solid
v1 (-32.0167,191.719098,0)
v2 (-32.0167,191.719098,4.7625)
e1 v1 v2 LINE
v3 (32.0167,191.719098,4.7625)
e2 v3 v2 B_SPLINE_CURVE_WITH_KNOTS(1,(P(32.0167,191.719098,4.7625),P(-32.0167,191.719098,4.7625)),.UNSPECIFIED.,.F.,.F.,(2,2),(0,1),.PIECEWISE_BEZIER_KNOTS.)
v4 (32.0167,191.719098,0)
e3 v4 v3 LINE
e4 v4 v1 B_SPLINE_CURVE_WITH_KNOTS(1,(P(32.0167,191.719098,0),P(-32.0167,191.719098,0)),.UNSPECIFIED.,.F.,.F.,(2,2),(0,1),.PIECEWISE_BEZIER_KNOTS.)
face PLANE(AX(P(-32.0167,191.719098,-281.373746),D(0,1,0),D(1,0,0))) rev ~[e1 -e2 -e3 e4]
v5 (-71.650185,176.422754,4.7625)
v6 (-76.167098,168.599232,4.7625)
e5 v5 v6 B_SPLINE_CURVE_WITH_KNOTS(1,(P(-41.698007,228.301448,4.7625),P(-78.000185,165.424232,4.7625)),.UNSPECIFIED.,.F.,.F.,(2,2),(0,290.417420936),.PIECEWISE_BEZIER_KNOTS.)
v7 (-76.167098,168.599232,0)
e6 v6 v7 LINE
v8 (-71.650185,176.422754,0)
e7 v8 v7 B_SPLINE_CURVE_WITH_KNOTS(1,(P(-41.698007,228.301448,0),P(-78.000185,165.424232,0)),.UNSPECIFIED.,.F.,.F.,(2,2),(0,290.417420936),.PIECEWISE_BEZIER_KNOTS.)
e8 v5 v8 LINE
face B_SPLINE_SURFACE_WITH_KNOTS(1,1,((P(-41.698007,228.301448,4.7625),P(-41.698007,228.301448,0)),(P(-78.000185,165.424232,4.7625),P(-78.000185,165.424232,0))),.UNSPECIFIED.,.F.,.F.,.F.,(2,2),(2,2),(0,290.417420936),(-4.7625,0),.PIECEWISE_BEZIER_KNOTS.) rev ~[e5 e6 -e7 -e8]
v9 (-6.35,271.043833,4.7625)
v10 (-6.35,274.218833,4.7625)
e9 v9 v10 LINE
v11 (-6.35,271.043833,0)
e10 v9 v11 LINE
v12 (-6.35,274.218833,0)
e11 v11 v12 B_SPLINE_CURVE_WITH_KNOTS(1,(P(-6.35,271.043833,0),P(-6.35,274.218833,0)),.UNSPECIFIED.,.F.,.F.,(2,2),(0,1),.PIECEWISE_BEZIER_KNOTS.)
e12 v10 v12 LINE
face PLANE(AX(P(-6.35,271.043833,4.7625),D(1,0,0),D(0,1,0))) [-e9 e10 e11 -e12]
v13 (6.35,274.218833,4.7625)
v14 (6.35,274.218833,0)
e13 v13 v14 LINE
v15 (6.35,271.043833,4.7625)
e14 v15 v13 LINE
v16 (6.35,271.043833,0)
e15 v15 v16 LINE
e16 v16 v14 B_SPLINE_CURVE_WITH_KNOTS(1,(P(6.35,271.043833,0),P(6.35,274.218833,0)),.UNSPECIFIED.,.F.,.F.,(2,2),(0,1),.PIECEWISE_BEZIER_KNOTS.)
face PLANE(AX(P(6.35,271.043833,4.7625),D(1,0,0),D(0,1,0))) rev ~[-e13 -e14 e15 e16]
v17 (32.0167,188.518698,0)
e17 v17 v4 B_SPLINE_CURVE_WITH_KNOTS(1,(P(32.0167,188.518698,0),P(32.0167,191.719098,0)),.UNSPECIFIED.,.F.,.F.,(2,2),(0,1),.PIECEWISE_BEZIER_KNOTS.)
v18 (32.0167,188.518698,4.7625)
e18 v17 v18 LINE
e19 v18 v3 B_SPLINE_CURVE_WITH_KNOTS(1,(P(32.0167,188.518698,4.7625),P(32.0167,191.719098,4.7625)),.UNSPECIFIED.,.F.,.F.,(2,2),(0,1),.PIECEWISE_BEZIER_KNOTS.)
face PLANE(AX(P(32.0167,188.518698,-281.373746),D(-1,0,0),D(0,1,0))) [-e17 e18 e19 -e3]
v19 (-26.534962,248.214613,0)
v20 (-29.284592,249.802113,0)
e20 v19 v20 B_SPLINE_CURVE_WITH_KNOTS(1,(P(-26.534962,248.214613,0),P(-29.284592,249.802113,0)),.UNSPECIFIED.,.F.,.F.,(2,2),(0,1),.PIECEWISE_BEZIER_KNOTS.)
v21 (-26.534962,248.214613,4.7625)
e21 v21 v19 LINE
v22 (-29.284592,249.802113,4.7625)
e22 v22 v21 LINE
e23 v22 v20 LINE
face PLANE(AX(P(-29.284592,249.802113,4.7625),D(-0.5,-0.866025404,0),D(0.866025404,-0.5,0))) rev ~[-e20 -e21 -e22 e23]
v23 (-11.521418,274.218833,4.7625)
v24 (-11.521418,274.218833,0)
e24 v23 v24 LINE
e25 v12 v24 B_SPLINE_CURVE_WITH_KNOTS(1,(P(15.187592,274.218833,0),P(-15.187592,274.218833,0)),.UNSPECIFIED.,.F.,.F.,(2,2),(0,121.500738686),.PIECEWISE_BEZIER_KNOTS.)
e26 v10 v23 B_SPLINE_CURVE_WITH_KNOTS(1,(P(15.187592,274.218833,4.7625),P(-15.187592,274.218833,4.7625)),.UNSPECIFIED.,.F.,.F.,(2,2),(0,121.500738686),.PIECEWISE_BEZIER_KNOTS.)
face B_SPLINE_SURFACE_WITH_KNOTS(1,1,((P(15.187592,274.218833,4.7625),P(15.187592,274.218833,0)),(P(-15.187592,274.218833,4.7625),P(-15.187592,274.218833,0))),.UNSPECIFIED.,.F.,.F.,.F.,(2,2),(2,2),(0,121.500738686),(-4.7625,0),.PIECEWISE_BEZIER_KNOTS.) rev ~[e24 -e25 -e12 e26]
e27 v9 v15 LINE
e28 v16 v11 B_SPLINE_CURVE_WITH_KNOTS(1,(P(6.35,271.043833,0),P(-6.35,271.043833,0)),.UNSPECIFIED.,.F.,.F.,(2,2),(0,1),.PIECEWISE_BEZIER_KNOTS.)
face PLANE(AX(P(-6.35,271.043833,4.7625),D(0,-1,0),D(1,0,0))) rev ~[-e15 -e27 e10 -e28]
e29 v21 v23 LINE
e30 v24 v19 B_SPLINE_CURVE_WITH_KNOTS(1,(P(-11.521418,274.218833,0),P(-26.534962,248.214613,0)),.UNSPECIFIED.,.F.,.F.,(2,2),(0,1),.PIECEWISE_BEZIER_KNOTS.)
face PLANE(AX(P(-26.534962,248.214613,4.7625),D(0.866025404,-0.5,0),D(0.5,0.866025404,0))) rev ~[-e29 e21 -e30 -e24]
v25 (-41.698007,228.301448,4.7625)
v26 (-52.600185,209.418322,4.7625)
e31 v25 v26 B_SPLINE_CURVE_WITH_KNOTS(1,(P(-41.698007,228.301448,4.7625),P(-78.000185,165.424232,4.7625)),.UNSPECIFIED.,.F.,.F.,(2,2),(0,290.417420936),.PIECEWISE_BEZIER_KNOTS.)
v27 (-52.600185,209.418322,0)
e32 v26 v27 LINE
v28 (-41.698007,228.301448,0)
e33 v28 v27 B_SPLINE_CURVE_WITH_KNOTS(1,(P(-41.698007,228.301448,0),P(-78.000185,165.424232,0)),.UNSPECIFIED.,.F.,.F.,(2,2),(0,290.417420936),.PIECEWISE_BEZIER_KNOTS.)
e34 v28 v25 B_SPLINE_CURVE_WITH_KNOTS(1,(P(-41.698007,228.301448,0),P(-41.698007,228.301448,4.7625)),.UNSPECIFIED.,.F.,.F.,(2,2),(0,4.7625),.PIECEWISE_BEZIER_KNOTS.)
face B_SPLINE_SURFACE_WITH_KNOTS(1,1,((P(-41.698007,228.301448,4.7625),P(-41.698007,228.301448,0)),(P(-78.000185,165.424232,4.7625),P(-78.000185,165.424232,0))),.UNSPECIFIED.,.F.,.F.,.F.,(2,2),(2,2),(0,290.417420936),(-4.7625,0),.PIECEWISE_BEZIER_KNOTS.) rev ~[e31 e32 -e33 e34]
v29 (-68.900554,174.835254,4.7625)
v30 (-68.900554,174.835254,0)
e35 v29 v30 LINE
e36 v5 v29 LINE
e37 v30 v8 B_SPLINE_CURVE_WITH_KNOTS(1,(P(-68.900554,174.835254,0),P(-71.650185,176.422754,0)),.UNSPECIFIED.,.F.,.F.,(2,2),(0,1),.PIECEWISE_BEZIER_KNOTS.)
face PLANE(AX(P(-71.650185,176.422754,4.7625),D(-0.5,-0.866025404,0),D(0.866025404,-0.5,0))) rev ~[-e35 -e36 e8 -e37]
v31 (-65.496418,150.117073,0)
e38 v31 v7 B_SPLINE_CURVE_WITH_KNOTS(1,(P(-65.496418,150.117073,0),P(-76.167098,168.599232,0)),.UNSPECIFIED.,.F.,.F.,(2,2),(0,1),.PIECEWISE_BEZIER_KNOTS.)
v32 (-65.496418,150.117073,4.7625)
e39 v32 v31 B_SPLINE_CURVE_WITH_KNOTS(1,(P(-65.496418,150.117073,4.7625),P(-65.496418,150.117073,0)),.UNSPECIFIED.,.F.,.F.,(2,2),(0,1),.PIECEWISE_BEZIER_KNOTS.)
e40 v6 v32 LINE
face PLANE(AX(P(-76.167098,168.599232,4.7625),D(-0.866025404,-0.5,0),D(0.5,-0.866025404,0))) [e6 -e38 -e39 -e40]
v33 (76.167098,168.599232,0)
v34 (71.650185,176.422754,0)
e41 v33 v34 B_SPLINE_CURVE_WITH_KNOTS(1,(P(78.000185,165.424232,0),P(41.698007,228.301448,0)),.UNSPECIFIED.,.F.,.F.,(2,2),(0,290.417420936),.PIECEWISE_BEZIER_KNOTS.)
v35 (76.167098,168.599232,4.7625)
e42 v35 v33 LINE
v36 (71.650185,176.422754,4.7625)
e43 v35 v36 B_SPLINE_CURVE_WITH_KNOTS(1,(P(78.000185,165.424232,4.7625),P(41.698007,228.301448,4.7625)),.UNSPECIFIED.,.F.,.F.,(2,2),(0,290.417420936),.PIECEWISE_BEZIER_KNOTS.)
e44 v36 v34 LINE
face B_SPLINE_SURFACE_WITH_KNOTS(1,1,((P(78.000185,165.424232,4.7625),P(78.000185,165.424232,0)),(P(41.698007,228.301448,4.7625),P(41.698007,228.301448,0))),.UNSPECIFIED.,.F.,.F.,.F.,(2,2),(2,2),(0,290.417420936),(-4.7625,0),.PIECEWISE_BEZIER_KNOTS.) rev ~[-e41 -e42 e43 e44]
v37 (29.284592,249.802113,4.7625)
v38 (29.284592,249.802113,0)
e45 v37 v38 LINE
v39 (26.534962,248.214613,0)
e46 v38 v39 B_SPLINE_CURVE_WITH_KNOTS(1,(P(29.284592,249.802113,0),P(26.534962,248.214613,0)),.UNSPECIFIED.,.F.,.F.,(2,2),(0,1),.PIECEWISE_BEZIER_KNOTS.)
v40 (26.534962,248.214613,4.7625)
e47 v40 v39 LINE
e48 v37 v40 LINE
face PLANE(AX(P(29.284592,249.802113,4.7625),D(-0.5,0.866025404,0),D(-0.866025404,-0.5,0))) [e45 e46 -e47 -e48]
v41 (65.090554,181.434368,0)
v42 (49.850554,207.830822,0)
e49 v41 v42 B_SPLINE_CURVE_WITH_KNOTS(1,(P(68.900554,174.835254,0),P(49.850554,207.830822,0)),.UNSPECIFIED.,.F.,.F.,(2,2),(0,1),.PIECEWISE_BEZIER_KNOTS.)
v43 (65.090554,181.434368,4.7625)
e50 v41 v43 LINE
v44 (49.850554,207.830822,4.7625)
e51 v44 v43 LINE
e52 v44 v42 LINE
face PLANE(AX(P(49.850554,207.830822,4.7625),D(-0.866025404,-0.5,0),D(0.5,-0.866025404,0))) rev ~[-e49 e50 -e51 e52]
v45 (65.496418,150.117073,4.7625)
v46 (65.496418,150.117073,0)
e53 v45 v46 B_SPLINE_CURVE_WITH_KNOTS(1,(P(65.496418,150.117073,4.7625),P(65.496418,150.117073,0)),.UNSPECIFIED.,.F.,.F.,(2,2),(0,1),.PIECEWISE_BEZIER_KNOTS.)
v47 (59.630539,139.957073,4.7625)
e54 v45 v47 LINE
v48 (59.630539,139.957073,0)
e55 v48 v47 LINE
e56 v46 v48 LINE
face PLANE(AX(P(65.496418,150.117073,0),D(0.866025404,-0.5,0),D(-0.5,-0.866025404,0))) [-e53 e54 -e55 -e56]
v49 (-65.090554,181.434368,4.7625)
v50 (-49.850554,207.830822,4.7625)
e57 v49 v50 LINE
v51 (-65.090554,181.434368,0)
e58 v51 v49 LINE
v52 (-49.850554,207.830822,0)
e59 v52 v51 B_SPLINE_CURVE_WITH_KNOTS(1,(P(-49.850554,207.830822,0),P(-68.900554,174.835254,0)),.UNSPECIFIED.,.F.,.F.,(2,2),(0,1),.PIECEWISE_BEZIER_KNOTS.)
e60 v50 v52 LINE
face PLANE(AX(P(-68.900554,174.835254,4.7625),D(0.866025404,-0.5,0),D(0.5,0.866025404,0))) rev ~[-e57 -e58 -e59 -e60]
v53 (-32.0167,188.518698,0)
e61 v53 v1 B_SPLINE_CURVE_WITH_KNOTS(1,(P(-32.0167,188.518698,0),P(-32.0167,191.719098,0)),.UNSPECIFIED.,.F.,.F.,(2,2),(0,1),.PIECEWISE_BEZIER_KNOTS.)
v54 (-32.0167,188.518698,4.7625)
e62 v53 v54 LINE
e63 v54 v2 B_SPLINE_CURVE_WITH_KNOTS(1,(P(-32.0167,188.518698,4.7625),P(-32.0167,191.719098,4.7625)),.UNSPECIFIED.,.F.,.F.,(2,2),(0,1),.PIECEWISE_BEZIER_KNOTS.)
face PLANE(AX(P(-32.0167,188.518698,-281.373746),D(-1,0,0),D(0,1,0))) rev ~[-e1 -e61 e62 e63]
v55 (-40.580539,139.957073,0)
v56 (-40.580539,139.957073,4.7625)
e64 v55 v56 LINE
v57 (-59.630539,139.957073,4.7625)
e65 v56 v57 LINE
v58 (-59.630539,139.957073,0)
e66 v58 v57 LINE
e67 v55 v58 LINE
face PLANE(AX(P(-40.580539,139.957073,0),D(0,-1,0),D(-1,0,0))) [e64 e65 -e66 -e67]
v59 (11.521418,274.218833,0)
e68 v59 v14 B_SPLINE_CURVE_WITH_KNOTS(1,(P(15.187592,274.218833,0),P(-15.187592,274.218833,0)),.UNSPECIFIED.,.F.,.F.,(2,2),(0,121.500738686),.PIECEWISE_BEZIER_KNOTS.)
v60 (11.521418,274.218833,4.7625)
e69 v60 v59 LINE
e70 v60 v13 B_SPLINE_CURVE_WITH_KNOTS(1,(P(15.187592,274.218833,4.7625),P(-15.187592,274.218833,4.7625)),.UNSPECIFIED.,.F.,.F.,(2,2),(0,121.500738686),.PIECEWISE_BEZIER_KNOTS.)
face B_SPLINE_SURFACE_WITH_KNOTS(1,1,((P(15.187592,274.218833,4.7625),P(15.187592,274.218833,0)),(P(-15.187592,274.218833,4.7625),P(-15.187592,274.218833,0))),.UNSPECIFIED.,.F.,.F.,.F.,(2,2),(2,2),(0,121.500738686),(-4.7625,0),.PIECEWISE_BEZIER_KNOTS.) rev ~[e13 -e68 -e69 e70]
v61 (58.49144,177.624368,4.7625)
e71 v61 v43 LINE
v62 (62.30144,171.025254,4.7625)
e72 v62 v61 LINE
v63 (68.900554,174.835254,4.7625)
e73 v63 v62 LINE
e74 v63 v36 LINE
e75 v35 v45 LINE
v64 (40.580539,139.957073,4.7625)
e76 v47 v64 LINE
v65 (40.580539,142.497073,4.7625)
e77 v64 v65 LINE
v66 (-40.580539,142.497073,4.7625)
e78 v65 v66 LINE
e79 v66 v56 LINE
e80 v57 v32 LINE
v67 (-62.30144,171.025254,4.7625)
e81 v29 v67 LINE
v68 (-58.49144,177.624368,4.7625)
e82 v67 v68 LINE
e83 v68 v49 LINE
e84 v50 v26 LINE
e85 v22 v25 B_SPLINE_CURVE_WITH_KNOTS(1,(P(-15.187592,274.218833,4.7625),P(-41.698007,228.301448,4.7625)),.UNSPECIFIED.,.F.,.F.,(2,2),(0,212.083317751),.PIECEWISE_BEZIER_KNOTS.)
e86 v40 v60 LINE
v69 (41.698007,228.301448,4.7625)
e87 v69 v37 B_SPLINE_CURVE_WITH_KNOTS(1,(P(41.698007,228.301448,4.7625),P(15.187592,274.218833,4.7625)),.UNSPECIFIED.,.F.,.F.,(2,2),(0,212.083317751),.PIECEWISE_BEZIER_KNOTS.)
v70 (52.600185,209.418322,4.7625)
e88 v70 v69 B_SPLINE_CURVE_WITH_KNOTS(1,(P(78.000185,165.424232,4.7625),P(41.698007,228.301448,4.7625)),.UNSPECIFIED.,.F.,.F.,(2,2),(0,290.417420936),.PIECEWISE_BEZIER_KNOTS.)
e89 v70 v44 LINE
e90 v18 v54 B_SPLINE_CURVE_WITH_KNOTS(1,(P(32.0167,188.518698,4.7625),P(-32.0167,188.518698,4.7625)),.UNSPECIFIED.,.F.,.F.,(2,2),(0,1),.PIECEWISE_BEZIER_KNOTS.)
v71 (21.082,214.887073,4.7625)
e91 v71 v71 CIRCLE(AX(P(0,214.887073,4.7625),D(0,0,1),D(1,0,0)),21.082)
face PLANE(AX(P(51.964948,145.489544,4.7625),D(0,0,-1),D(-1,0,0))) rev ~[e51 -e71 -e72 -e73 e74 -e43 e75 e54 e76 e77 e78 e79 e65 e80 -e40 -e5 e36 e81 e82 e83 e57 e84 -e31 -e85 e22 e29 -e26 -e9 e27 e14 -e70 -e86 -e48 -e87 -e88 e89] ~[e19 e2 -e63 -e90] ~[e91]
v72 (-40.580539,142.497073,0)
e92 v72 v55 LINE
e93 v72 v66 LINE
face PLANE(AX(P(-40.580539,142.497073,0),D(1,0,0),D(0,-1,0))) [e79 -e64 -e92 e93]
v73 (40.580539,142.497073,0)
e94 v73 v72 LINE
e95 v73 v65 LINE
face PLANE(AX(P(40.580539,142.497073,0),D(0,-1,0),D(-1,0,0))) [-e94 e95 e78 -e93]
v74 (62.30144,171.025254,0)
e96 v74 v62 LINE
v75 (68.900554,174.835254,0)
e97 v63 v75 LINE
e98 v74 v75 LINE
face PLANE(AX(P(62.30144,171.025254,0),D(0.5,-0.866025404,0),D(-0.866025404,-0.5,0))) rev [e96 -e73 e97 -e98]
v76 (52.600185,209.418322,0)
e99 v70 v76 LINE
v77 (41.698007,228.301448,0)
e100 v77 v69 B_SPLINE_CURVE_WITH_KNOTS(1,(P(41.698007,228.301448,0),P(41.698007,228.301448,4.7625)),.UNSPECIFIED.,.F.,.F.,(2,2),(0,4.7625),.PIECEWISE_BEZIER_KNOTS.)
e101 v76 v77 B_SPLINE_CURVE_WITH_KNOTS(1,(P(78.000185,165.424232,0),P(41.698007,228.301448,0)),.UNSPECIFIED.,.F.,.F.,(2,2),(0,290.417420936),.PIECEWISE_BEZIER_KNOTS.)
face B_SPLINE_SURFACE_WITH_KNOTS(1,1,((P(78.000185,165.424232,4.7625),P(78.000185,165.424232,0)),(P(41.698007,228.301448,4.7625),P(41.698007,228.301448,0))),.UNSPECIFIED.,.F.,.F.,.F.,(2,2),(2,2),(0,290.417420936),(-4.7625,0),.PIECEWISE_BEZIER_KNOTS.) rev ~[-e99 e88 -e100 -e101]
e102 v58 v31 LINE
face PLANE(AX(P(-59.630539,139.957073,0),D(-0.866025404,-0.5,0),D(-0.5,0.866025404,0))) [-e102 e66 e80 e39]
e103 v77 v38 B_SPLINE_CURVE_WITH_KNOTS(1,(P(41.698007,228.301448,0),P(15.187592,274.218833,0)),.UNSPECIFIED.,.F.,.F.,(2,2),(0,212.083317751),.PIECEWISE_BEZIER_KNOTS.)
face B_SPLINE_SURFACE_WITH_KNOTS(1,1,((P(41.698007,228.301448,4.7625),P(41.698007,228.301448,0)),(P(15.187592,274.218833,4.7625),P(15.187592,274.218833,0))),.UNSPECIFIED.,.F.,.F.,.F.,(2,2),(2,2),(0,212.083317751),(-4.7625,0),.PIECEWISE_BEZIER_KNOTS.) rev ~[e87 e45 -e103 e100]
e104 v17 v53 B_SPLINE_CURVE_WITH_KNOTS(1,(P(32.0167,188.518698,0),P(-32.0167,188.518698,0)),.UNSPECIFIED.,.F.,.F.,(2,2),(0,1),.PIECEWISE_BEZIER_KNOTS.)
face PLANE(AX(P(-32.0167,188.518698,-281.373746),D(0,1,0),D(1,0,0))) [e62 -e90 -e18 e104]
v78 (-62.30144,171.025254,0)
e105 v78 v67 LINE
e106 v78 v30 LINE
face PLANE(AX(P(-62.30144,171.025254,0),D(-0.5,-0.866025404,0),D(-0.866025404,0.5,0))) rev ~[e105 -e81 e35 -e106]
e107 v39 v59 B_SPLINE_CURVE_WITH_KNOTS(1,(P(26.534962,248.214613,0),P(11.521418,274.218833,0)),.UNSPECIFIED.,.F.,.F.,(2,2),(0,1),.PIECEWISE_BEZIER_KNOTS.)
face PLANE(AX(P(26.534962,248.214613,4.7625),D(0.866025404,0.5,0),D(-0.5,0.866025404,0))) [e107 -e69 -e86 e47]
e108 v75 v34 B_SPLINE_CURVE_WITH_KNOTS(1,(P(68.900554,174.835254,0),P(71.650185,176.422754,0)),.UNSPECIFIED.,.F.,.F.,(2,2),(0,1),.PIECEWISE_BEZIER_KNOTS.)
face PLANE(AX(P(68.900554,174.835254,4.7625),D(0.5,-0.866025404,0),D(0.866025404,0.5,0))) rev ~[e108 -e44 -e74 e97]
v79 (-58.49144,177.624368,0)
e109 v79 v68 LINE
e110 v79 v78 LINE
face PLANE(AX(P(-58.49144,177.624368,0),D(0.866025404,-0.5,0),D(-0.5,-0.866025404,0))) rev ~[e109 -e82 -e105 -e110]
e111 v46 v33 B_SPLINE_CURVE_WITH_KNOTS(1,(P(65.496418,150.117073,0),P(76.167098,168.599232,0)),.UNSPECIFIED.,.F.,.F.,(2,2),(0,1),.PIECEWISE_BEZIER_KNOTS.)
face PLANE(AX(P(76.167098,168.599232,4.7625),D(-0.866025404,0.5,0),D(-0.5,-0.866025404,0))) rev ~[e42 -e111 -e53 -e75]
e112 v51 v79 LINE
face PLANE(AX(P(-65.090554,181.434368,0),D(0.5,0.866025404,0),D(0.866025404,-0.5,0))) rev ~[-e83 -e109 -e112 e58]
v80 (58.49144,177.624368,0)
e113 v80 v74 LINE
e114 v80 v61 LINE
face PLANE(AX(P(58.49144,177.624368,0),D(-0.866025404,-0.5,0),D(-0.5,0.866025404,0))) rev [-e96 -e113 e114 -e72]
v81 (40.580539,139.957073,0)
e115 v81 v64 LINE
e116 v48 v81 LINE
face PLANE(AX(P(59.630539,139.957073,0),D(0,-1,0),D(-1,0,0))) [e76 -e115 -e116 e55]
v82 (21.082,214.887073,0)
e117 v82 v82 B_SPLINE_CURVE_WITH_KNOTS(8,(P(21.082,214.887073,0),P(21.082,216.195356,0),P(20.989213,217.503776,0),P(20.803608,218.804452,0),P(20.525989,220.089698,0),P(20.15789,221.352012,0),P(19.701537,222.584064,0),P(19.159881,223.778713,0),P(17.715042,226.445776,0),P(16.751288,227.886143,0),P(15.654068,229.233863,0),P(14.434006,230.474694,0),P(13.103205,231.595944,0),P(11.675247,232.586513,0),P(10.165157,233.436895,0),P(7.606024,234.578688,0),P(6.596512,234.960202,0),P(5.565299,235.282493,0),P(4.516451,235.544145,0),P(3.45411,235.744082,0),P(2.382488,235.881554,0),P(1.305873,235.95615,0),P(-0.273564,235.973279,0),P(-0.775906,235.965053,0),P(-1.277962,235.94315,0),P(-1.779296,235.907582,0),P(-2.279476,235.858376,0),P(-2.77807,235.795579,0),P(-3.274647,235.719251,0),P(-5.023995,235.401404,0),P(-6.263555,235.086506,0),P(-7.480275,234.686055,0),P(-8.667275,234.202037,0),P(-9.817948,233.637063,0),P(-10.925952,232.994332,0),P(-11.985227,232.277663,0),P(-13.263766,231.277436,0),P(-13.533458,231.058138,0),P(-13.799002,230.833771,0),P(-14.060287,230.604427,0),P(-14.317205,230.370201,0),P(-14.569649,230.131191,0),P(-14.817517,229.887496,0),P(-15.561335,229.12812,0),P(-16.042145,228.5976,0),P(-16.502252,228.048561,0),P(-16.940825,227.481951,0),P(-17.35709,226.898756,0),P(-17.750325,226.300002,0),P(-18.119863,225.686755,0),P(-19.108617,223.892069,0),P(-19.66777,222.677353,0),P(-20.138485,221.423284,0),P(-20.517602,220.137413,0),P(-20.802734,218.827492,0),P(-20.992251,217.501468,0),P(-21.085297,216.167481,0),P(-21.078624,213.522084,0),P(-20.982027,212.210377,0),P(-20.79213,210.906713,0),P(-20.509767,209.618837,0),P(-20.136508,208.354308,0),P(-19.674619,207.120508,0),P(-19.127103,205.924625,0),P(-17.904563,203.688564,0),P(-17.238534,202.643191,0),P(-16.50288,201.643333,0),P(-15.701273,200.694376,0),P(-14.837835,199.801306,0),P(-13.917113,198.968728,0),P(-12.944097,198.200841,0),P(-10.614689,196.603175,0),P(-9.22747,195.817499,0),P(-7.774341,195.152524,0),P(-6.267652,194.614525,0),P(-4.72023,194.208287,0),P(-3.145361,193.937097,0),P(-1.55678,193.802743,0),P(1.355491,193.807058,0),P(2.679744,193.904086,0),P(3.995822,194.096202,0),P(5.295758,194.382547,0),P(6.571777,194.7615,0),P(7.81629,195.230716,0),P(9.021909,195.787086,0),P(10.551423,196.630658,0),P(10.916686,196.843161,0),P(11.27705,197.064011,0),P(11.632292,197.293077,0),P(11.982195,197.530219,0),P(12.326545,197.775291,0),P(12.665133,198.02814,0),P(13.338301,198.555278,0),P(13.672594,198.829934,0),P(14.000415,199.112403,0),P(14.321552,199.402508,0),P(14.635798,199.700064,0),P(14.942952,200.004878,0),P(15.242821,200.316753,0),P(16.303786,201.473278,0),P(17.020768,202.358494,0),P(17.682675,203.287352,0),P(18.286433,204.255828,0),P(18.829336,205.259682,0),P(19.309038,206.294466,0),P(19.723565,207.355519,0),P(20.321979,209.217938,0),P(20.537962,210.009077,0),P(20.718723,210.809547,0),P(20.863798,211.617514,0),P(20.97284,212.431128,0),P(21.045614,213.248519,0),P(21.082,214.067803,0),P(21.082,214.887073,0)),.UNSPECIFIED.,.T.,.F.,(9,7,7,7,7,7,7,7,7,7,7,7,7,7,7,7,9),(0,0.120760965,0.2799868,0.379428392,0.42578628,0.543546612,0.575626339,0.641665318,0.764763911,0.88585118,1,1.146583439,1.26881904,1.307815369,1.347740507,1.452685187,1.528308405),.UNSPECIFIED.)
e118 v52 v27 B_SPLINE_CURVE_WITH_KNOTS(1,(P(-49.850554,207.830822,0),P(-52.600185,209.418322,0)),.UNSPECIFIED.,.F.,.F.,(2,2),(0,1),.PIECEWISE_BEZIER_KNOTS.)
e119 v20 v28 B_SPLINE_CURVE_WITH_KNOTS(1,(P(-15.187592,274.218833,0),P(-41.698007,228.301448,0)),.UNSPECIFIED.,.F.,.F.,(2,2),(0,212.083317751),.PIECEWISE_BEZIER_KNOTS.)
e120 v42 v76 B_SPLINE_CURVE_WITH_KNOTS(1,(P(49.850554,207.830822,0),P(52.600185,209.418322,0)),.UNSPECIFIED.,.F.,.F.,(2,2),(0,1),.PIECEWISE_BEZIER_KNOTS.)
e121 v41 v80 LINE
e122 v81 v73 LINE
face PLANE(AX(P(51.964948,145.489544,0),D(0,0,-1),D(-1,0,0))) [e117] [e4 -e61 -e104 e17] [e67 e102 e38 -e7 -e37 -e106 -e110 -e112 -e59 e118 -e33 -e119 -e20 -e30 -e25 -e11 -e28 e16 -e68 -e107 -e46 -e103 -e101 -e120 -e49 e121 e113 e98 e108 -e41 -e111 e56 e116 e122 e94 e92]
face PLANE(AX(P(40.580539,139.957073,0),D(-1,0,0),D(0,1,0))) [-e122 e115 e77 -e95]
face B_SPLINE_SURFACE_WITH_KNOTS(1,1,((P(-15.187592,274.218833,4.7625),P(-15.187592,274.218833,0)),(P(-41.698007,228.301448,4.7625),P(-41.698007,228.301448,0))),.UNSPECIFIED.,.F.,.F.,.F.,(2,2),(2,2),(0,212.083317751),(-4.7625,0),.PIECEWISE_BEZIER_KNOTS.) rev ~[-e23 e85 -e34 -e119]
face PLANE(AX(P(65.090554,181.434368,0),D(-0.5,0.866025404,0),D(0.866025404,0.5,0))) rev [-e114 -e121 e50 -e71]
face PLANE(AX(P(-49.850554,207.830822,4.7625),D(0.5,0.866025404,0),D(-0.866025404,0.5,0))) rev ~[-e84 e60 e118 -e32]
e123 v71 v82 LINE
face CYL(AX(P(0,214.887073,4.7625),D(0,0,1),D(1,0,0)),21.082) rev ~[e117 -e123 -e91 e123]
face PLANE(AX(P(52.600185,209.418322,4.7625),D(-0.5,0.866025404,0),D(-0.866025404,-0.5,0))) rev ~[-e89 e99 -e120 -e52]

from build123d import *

# Parameters (mm, degrees)
BOSS_EXTRUDE1_DEPTH     = 4.7625
SCALE2_SCALE_X          = 0.25
SCALE2_SCALE_Y          = 0.25
SCALE2_SCALE_Z          = 1
SKETCH8_R               = 21.082
CUT_EXTRUDE5_DEPTH      = 286.136245759
CUT_EXTRUDE8_DEPTH      = 286.136245759
CUT_EXTRUDE8_DEPTH_BACK = 286.136245759
SKETCH9_W               = 64.0334
SKETCH9_H               = 3.2004
SKETCH10_W              = 12.7
SKETCH10_H              = 3.175
CUT_EXTRUDE9_DEPTH      = 286.136245759
CUT_EXTRUDE10_DEPTH     = 286.136245759
CUT_EXTRUDE11_DEPTH     = 286.136245759
CUT_EXTRUDE12_DEPTH     = 286.136245759
SKETCH18_W              = 40.580539391
SKETCH18_H              = 7.62
BOSS_EXTRUDE2_DEPTH     = 4.7625
CUT_EXTRUDE13_REACH     = 286.64


with BuildPart() as part:
    # Sketch3 → Boss-Extrude1 (new body)
    with BuildSketch(Plane.XY):
        Polygon((312.000738686, 65.991135768), (166.792028218, 317.5), (-166.792028218, 317.5), (-312.000738686, 65.991135768), (-276.650369343, 4.7625), (276.650369343, 4.7625), align=None)
        Polygon((-166.792028218, 317.5), (166.792028218, 317.5), (60.750369343, 501.169540891), (-60.750369343, 501.169540891), align=None)
    extrude(amount=BOSS_EXTRUDE1_DEPTH)


with BuildPart() as part_1:
    # Scale2: scaled about (0, 198.568597006, 2.38125)
    add(part.part.scale((SCALE2_SCALE_X, SCALE2_SCALE_Y, SCALE2_SCALE_Z), about=(0, 198.568597006, 2.38125)))

    # Sketch8 → Cut-Extrude5 (cut, through all)
    with BuildSketch(Plane.XY.offset(4.7625)):
        with Locations((0, 214.887072754)):
            Circle(SKETCH8_R)
    extrude(amount=-CUT_EXTRUDE5_DEPTH, mode=Mode.SUBTRACT)

    # Sketch9 → Cut-Extrude8 (cut, two sides: drawn at the far end of the back side and taken through both)
    with BuildSketch(Plane.XY.offset(4.7625).offset(-CUT_EXTRUDE8_DEPTH_BACK)):
        with Locations((0, 190.118897754)):
            Rectangle(SKETCH9_W, SKETCH9_H)
    extrude(amount=CUT_EXTRUDE8_DEPTH + CUT_EXTRUDE8_DEPTH_BACK, mode=Mode.SUBTRACT)

    # Sketch10 → Cut-Extrude9 (cut, through all)
    with BuildSketch(Plane.XY.offset(4.7625)):
        with Locations((0, 272.631332977)):
            Rectangle(SKETCH10_W, SKETCH10_H)
    extrude(amount=-CUT_EXTRUDE9_DEPTH, mode=Mode.SUBTRACT)

    # Sketch11 → Cut-Extrude10 (cut, through all)
    with BuildSketch(Plane.XY.offset(4.7625)):
        Polygon((15.187592336, 274.218832977), (29.284592336, 249.802112743), (26.534961679, 248.214612743), (11.521418126, 274.218832977), align=None)
        Polygon((-29.284592336, 249.802112743), (-26.534961679, 248.214612743), (-11.521418126, 274.218832977), (-15.187592336, 274.218832977), align=None)
    extrude(amount=-CUT_EXTRUDE10_DEPTH, mode=Mode.SUBTRACT)

    # Sketch12 → Cut-Extrude11 (cut, through all)
    with BuildSketch(Plane.XY.offset(4.7625)):
        Polygon((71.650184671, 176.422754325), (52.600184671, 209.418322209), (49.850554014, 207.830822209), (68.900554014, 174.835254325), align=None)
        Polygon((-71.650184671, 176.422754325), (-68.900554014, 174.835254325), (-49.850554014, 207.830822209), (-52.600184671, 209.418322209), align=None)
    extrude(amount=-CUT_EXTRUDE11_DEPTH, mode=Mode.SUBTRACT)

    # Sketch13 → Cut-Extrude12 (cut, through all)
    with BuildSketch(Plane.XY.offset(4.7625)):
        Polygon((78.000184671, 165.424231696), (76.167097567, 168.599231696), (62.550554014, 145.01468644), (65.300184671, 143.42718644), align=None)
        Polygon((-62.550554014, 145.01468644), (-65.300184671, 143.42718644), (-78.000184671, 165.424231696), (-76.167097567, 168.599231696), align=None)
    extrude(amount=-CUT_EXTRUDE12_DEPTH, mode=Mode.SUBTRACT)

    # Sketch18 → Boss-Extrude2 (add)
    with BuildSketch(Plane(origin=(0, 0, 0), x_dir=(-1, 0, 0), z_dir=(0, 0, -1))):
        Polygon((-40.580539391, 150.117072754), (-65.496418126, 150.117072754), (-59.630539391, 139.957072754), (-40.580539391, 139.957072754), (-40.580539391, 142.497072754), align=None)
        with Locations((-20.290269696, 146.307072754)):
            Rectangle(SKETCH18_W, SKETCH18_H)
        with Locations((20.290269696, 146.307072754)):
            Rectangle(SKETCH18_W, SKETCH18_H)
        Polygon((65.496418126, 150.117072754), (40.580539391, 150.117072754), (40.580539391, 142.497072754), (40.580539391, 139.957072754), (59.630539391, 139.957072754), align=None)
    extrude(amount=-BOSS_EXTRUDE2_DEPTH)

    # Sketch20 → Cut-Extrude13 (cut, up to next)
    with BuildSketch(Plane(origin=(0, 0, 0), x_dir=(-1, 0, 0), z_dir=(0, 0, -1)), mode=Mode.PRIVATE) as cut_extrude13_sk1:
        Polygon((68.900554014, 174.835254325), (65.090554014, 181.434367901), (58.491440438, 177.624367901), (62.301440438, 171.025254325), align=None)
    cut_extrude13_tool1 = extrude(cut_extrude13_sk1.sketch, amount=-CUT_EXTRUDE13_REACH, mode=Mode.PRIVATE) & part_1.part
    cut_extrude13 = cut_extrude13_tool1.solids().sort_by_distance((-63.695997, 176.229811, 0))[0]
    add(cut_extrude13, mode=Mode.SUBTRACT)

    # Mirror1: Cut-Extrude13 across plane
    add(cut_extrude13.mirror(Plane(origin=(0, 0, 0), x_dir=(0, 0, 1), z_dir=(1, 0, 0))), mode=Mode.SUBTRACT)


solid = part_1.part
